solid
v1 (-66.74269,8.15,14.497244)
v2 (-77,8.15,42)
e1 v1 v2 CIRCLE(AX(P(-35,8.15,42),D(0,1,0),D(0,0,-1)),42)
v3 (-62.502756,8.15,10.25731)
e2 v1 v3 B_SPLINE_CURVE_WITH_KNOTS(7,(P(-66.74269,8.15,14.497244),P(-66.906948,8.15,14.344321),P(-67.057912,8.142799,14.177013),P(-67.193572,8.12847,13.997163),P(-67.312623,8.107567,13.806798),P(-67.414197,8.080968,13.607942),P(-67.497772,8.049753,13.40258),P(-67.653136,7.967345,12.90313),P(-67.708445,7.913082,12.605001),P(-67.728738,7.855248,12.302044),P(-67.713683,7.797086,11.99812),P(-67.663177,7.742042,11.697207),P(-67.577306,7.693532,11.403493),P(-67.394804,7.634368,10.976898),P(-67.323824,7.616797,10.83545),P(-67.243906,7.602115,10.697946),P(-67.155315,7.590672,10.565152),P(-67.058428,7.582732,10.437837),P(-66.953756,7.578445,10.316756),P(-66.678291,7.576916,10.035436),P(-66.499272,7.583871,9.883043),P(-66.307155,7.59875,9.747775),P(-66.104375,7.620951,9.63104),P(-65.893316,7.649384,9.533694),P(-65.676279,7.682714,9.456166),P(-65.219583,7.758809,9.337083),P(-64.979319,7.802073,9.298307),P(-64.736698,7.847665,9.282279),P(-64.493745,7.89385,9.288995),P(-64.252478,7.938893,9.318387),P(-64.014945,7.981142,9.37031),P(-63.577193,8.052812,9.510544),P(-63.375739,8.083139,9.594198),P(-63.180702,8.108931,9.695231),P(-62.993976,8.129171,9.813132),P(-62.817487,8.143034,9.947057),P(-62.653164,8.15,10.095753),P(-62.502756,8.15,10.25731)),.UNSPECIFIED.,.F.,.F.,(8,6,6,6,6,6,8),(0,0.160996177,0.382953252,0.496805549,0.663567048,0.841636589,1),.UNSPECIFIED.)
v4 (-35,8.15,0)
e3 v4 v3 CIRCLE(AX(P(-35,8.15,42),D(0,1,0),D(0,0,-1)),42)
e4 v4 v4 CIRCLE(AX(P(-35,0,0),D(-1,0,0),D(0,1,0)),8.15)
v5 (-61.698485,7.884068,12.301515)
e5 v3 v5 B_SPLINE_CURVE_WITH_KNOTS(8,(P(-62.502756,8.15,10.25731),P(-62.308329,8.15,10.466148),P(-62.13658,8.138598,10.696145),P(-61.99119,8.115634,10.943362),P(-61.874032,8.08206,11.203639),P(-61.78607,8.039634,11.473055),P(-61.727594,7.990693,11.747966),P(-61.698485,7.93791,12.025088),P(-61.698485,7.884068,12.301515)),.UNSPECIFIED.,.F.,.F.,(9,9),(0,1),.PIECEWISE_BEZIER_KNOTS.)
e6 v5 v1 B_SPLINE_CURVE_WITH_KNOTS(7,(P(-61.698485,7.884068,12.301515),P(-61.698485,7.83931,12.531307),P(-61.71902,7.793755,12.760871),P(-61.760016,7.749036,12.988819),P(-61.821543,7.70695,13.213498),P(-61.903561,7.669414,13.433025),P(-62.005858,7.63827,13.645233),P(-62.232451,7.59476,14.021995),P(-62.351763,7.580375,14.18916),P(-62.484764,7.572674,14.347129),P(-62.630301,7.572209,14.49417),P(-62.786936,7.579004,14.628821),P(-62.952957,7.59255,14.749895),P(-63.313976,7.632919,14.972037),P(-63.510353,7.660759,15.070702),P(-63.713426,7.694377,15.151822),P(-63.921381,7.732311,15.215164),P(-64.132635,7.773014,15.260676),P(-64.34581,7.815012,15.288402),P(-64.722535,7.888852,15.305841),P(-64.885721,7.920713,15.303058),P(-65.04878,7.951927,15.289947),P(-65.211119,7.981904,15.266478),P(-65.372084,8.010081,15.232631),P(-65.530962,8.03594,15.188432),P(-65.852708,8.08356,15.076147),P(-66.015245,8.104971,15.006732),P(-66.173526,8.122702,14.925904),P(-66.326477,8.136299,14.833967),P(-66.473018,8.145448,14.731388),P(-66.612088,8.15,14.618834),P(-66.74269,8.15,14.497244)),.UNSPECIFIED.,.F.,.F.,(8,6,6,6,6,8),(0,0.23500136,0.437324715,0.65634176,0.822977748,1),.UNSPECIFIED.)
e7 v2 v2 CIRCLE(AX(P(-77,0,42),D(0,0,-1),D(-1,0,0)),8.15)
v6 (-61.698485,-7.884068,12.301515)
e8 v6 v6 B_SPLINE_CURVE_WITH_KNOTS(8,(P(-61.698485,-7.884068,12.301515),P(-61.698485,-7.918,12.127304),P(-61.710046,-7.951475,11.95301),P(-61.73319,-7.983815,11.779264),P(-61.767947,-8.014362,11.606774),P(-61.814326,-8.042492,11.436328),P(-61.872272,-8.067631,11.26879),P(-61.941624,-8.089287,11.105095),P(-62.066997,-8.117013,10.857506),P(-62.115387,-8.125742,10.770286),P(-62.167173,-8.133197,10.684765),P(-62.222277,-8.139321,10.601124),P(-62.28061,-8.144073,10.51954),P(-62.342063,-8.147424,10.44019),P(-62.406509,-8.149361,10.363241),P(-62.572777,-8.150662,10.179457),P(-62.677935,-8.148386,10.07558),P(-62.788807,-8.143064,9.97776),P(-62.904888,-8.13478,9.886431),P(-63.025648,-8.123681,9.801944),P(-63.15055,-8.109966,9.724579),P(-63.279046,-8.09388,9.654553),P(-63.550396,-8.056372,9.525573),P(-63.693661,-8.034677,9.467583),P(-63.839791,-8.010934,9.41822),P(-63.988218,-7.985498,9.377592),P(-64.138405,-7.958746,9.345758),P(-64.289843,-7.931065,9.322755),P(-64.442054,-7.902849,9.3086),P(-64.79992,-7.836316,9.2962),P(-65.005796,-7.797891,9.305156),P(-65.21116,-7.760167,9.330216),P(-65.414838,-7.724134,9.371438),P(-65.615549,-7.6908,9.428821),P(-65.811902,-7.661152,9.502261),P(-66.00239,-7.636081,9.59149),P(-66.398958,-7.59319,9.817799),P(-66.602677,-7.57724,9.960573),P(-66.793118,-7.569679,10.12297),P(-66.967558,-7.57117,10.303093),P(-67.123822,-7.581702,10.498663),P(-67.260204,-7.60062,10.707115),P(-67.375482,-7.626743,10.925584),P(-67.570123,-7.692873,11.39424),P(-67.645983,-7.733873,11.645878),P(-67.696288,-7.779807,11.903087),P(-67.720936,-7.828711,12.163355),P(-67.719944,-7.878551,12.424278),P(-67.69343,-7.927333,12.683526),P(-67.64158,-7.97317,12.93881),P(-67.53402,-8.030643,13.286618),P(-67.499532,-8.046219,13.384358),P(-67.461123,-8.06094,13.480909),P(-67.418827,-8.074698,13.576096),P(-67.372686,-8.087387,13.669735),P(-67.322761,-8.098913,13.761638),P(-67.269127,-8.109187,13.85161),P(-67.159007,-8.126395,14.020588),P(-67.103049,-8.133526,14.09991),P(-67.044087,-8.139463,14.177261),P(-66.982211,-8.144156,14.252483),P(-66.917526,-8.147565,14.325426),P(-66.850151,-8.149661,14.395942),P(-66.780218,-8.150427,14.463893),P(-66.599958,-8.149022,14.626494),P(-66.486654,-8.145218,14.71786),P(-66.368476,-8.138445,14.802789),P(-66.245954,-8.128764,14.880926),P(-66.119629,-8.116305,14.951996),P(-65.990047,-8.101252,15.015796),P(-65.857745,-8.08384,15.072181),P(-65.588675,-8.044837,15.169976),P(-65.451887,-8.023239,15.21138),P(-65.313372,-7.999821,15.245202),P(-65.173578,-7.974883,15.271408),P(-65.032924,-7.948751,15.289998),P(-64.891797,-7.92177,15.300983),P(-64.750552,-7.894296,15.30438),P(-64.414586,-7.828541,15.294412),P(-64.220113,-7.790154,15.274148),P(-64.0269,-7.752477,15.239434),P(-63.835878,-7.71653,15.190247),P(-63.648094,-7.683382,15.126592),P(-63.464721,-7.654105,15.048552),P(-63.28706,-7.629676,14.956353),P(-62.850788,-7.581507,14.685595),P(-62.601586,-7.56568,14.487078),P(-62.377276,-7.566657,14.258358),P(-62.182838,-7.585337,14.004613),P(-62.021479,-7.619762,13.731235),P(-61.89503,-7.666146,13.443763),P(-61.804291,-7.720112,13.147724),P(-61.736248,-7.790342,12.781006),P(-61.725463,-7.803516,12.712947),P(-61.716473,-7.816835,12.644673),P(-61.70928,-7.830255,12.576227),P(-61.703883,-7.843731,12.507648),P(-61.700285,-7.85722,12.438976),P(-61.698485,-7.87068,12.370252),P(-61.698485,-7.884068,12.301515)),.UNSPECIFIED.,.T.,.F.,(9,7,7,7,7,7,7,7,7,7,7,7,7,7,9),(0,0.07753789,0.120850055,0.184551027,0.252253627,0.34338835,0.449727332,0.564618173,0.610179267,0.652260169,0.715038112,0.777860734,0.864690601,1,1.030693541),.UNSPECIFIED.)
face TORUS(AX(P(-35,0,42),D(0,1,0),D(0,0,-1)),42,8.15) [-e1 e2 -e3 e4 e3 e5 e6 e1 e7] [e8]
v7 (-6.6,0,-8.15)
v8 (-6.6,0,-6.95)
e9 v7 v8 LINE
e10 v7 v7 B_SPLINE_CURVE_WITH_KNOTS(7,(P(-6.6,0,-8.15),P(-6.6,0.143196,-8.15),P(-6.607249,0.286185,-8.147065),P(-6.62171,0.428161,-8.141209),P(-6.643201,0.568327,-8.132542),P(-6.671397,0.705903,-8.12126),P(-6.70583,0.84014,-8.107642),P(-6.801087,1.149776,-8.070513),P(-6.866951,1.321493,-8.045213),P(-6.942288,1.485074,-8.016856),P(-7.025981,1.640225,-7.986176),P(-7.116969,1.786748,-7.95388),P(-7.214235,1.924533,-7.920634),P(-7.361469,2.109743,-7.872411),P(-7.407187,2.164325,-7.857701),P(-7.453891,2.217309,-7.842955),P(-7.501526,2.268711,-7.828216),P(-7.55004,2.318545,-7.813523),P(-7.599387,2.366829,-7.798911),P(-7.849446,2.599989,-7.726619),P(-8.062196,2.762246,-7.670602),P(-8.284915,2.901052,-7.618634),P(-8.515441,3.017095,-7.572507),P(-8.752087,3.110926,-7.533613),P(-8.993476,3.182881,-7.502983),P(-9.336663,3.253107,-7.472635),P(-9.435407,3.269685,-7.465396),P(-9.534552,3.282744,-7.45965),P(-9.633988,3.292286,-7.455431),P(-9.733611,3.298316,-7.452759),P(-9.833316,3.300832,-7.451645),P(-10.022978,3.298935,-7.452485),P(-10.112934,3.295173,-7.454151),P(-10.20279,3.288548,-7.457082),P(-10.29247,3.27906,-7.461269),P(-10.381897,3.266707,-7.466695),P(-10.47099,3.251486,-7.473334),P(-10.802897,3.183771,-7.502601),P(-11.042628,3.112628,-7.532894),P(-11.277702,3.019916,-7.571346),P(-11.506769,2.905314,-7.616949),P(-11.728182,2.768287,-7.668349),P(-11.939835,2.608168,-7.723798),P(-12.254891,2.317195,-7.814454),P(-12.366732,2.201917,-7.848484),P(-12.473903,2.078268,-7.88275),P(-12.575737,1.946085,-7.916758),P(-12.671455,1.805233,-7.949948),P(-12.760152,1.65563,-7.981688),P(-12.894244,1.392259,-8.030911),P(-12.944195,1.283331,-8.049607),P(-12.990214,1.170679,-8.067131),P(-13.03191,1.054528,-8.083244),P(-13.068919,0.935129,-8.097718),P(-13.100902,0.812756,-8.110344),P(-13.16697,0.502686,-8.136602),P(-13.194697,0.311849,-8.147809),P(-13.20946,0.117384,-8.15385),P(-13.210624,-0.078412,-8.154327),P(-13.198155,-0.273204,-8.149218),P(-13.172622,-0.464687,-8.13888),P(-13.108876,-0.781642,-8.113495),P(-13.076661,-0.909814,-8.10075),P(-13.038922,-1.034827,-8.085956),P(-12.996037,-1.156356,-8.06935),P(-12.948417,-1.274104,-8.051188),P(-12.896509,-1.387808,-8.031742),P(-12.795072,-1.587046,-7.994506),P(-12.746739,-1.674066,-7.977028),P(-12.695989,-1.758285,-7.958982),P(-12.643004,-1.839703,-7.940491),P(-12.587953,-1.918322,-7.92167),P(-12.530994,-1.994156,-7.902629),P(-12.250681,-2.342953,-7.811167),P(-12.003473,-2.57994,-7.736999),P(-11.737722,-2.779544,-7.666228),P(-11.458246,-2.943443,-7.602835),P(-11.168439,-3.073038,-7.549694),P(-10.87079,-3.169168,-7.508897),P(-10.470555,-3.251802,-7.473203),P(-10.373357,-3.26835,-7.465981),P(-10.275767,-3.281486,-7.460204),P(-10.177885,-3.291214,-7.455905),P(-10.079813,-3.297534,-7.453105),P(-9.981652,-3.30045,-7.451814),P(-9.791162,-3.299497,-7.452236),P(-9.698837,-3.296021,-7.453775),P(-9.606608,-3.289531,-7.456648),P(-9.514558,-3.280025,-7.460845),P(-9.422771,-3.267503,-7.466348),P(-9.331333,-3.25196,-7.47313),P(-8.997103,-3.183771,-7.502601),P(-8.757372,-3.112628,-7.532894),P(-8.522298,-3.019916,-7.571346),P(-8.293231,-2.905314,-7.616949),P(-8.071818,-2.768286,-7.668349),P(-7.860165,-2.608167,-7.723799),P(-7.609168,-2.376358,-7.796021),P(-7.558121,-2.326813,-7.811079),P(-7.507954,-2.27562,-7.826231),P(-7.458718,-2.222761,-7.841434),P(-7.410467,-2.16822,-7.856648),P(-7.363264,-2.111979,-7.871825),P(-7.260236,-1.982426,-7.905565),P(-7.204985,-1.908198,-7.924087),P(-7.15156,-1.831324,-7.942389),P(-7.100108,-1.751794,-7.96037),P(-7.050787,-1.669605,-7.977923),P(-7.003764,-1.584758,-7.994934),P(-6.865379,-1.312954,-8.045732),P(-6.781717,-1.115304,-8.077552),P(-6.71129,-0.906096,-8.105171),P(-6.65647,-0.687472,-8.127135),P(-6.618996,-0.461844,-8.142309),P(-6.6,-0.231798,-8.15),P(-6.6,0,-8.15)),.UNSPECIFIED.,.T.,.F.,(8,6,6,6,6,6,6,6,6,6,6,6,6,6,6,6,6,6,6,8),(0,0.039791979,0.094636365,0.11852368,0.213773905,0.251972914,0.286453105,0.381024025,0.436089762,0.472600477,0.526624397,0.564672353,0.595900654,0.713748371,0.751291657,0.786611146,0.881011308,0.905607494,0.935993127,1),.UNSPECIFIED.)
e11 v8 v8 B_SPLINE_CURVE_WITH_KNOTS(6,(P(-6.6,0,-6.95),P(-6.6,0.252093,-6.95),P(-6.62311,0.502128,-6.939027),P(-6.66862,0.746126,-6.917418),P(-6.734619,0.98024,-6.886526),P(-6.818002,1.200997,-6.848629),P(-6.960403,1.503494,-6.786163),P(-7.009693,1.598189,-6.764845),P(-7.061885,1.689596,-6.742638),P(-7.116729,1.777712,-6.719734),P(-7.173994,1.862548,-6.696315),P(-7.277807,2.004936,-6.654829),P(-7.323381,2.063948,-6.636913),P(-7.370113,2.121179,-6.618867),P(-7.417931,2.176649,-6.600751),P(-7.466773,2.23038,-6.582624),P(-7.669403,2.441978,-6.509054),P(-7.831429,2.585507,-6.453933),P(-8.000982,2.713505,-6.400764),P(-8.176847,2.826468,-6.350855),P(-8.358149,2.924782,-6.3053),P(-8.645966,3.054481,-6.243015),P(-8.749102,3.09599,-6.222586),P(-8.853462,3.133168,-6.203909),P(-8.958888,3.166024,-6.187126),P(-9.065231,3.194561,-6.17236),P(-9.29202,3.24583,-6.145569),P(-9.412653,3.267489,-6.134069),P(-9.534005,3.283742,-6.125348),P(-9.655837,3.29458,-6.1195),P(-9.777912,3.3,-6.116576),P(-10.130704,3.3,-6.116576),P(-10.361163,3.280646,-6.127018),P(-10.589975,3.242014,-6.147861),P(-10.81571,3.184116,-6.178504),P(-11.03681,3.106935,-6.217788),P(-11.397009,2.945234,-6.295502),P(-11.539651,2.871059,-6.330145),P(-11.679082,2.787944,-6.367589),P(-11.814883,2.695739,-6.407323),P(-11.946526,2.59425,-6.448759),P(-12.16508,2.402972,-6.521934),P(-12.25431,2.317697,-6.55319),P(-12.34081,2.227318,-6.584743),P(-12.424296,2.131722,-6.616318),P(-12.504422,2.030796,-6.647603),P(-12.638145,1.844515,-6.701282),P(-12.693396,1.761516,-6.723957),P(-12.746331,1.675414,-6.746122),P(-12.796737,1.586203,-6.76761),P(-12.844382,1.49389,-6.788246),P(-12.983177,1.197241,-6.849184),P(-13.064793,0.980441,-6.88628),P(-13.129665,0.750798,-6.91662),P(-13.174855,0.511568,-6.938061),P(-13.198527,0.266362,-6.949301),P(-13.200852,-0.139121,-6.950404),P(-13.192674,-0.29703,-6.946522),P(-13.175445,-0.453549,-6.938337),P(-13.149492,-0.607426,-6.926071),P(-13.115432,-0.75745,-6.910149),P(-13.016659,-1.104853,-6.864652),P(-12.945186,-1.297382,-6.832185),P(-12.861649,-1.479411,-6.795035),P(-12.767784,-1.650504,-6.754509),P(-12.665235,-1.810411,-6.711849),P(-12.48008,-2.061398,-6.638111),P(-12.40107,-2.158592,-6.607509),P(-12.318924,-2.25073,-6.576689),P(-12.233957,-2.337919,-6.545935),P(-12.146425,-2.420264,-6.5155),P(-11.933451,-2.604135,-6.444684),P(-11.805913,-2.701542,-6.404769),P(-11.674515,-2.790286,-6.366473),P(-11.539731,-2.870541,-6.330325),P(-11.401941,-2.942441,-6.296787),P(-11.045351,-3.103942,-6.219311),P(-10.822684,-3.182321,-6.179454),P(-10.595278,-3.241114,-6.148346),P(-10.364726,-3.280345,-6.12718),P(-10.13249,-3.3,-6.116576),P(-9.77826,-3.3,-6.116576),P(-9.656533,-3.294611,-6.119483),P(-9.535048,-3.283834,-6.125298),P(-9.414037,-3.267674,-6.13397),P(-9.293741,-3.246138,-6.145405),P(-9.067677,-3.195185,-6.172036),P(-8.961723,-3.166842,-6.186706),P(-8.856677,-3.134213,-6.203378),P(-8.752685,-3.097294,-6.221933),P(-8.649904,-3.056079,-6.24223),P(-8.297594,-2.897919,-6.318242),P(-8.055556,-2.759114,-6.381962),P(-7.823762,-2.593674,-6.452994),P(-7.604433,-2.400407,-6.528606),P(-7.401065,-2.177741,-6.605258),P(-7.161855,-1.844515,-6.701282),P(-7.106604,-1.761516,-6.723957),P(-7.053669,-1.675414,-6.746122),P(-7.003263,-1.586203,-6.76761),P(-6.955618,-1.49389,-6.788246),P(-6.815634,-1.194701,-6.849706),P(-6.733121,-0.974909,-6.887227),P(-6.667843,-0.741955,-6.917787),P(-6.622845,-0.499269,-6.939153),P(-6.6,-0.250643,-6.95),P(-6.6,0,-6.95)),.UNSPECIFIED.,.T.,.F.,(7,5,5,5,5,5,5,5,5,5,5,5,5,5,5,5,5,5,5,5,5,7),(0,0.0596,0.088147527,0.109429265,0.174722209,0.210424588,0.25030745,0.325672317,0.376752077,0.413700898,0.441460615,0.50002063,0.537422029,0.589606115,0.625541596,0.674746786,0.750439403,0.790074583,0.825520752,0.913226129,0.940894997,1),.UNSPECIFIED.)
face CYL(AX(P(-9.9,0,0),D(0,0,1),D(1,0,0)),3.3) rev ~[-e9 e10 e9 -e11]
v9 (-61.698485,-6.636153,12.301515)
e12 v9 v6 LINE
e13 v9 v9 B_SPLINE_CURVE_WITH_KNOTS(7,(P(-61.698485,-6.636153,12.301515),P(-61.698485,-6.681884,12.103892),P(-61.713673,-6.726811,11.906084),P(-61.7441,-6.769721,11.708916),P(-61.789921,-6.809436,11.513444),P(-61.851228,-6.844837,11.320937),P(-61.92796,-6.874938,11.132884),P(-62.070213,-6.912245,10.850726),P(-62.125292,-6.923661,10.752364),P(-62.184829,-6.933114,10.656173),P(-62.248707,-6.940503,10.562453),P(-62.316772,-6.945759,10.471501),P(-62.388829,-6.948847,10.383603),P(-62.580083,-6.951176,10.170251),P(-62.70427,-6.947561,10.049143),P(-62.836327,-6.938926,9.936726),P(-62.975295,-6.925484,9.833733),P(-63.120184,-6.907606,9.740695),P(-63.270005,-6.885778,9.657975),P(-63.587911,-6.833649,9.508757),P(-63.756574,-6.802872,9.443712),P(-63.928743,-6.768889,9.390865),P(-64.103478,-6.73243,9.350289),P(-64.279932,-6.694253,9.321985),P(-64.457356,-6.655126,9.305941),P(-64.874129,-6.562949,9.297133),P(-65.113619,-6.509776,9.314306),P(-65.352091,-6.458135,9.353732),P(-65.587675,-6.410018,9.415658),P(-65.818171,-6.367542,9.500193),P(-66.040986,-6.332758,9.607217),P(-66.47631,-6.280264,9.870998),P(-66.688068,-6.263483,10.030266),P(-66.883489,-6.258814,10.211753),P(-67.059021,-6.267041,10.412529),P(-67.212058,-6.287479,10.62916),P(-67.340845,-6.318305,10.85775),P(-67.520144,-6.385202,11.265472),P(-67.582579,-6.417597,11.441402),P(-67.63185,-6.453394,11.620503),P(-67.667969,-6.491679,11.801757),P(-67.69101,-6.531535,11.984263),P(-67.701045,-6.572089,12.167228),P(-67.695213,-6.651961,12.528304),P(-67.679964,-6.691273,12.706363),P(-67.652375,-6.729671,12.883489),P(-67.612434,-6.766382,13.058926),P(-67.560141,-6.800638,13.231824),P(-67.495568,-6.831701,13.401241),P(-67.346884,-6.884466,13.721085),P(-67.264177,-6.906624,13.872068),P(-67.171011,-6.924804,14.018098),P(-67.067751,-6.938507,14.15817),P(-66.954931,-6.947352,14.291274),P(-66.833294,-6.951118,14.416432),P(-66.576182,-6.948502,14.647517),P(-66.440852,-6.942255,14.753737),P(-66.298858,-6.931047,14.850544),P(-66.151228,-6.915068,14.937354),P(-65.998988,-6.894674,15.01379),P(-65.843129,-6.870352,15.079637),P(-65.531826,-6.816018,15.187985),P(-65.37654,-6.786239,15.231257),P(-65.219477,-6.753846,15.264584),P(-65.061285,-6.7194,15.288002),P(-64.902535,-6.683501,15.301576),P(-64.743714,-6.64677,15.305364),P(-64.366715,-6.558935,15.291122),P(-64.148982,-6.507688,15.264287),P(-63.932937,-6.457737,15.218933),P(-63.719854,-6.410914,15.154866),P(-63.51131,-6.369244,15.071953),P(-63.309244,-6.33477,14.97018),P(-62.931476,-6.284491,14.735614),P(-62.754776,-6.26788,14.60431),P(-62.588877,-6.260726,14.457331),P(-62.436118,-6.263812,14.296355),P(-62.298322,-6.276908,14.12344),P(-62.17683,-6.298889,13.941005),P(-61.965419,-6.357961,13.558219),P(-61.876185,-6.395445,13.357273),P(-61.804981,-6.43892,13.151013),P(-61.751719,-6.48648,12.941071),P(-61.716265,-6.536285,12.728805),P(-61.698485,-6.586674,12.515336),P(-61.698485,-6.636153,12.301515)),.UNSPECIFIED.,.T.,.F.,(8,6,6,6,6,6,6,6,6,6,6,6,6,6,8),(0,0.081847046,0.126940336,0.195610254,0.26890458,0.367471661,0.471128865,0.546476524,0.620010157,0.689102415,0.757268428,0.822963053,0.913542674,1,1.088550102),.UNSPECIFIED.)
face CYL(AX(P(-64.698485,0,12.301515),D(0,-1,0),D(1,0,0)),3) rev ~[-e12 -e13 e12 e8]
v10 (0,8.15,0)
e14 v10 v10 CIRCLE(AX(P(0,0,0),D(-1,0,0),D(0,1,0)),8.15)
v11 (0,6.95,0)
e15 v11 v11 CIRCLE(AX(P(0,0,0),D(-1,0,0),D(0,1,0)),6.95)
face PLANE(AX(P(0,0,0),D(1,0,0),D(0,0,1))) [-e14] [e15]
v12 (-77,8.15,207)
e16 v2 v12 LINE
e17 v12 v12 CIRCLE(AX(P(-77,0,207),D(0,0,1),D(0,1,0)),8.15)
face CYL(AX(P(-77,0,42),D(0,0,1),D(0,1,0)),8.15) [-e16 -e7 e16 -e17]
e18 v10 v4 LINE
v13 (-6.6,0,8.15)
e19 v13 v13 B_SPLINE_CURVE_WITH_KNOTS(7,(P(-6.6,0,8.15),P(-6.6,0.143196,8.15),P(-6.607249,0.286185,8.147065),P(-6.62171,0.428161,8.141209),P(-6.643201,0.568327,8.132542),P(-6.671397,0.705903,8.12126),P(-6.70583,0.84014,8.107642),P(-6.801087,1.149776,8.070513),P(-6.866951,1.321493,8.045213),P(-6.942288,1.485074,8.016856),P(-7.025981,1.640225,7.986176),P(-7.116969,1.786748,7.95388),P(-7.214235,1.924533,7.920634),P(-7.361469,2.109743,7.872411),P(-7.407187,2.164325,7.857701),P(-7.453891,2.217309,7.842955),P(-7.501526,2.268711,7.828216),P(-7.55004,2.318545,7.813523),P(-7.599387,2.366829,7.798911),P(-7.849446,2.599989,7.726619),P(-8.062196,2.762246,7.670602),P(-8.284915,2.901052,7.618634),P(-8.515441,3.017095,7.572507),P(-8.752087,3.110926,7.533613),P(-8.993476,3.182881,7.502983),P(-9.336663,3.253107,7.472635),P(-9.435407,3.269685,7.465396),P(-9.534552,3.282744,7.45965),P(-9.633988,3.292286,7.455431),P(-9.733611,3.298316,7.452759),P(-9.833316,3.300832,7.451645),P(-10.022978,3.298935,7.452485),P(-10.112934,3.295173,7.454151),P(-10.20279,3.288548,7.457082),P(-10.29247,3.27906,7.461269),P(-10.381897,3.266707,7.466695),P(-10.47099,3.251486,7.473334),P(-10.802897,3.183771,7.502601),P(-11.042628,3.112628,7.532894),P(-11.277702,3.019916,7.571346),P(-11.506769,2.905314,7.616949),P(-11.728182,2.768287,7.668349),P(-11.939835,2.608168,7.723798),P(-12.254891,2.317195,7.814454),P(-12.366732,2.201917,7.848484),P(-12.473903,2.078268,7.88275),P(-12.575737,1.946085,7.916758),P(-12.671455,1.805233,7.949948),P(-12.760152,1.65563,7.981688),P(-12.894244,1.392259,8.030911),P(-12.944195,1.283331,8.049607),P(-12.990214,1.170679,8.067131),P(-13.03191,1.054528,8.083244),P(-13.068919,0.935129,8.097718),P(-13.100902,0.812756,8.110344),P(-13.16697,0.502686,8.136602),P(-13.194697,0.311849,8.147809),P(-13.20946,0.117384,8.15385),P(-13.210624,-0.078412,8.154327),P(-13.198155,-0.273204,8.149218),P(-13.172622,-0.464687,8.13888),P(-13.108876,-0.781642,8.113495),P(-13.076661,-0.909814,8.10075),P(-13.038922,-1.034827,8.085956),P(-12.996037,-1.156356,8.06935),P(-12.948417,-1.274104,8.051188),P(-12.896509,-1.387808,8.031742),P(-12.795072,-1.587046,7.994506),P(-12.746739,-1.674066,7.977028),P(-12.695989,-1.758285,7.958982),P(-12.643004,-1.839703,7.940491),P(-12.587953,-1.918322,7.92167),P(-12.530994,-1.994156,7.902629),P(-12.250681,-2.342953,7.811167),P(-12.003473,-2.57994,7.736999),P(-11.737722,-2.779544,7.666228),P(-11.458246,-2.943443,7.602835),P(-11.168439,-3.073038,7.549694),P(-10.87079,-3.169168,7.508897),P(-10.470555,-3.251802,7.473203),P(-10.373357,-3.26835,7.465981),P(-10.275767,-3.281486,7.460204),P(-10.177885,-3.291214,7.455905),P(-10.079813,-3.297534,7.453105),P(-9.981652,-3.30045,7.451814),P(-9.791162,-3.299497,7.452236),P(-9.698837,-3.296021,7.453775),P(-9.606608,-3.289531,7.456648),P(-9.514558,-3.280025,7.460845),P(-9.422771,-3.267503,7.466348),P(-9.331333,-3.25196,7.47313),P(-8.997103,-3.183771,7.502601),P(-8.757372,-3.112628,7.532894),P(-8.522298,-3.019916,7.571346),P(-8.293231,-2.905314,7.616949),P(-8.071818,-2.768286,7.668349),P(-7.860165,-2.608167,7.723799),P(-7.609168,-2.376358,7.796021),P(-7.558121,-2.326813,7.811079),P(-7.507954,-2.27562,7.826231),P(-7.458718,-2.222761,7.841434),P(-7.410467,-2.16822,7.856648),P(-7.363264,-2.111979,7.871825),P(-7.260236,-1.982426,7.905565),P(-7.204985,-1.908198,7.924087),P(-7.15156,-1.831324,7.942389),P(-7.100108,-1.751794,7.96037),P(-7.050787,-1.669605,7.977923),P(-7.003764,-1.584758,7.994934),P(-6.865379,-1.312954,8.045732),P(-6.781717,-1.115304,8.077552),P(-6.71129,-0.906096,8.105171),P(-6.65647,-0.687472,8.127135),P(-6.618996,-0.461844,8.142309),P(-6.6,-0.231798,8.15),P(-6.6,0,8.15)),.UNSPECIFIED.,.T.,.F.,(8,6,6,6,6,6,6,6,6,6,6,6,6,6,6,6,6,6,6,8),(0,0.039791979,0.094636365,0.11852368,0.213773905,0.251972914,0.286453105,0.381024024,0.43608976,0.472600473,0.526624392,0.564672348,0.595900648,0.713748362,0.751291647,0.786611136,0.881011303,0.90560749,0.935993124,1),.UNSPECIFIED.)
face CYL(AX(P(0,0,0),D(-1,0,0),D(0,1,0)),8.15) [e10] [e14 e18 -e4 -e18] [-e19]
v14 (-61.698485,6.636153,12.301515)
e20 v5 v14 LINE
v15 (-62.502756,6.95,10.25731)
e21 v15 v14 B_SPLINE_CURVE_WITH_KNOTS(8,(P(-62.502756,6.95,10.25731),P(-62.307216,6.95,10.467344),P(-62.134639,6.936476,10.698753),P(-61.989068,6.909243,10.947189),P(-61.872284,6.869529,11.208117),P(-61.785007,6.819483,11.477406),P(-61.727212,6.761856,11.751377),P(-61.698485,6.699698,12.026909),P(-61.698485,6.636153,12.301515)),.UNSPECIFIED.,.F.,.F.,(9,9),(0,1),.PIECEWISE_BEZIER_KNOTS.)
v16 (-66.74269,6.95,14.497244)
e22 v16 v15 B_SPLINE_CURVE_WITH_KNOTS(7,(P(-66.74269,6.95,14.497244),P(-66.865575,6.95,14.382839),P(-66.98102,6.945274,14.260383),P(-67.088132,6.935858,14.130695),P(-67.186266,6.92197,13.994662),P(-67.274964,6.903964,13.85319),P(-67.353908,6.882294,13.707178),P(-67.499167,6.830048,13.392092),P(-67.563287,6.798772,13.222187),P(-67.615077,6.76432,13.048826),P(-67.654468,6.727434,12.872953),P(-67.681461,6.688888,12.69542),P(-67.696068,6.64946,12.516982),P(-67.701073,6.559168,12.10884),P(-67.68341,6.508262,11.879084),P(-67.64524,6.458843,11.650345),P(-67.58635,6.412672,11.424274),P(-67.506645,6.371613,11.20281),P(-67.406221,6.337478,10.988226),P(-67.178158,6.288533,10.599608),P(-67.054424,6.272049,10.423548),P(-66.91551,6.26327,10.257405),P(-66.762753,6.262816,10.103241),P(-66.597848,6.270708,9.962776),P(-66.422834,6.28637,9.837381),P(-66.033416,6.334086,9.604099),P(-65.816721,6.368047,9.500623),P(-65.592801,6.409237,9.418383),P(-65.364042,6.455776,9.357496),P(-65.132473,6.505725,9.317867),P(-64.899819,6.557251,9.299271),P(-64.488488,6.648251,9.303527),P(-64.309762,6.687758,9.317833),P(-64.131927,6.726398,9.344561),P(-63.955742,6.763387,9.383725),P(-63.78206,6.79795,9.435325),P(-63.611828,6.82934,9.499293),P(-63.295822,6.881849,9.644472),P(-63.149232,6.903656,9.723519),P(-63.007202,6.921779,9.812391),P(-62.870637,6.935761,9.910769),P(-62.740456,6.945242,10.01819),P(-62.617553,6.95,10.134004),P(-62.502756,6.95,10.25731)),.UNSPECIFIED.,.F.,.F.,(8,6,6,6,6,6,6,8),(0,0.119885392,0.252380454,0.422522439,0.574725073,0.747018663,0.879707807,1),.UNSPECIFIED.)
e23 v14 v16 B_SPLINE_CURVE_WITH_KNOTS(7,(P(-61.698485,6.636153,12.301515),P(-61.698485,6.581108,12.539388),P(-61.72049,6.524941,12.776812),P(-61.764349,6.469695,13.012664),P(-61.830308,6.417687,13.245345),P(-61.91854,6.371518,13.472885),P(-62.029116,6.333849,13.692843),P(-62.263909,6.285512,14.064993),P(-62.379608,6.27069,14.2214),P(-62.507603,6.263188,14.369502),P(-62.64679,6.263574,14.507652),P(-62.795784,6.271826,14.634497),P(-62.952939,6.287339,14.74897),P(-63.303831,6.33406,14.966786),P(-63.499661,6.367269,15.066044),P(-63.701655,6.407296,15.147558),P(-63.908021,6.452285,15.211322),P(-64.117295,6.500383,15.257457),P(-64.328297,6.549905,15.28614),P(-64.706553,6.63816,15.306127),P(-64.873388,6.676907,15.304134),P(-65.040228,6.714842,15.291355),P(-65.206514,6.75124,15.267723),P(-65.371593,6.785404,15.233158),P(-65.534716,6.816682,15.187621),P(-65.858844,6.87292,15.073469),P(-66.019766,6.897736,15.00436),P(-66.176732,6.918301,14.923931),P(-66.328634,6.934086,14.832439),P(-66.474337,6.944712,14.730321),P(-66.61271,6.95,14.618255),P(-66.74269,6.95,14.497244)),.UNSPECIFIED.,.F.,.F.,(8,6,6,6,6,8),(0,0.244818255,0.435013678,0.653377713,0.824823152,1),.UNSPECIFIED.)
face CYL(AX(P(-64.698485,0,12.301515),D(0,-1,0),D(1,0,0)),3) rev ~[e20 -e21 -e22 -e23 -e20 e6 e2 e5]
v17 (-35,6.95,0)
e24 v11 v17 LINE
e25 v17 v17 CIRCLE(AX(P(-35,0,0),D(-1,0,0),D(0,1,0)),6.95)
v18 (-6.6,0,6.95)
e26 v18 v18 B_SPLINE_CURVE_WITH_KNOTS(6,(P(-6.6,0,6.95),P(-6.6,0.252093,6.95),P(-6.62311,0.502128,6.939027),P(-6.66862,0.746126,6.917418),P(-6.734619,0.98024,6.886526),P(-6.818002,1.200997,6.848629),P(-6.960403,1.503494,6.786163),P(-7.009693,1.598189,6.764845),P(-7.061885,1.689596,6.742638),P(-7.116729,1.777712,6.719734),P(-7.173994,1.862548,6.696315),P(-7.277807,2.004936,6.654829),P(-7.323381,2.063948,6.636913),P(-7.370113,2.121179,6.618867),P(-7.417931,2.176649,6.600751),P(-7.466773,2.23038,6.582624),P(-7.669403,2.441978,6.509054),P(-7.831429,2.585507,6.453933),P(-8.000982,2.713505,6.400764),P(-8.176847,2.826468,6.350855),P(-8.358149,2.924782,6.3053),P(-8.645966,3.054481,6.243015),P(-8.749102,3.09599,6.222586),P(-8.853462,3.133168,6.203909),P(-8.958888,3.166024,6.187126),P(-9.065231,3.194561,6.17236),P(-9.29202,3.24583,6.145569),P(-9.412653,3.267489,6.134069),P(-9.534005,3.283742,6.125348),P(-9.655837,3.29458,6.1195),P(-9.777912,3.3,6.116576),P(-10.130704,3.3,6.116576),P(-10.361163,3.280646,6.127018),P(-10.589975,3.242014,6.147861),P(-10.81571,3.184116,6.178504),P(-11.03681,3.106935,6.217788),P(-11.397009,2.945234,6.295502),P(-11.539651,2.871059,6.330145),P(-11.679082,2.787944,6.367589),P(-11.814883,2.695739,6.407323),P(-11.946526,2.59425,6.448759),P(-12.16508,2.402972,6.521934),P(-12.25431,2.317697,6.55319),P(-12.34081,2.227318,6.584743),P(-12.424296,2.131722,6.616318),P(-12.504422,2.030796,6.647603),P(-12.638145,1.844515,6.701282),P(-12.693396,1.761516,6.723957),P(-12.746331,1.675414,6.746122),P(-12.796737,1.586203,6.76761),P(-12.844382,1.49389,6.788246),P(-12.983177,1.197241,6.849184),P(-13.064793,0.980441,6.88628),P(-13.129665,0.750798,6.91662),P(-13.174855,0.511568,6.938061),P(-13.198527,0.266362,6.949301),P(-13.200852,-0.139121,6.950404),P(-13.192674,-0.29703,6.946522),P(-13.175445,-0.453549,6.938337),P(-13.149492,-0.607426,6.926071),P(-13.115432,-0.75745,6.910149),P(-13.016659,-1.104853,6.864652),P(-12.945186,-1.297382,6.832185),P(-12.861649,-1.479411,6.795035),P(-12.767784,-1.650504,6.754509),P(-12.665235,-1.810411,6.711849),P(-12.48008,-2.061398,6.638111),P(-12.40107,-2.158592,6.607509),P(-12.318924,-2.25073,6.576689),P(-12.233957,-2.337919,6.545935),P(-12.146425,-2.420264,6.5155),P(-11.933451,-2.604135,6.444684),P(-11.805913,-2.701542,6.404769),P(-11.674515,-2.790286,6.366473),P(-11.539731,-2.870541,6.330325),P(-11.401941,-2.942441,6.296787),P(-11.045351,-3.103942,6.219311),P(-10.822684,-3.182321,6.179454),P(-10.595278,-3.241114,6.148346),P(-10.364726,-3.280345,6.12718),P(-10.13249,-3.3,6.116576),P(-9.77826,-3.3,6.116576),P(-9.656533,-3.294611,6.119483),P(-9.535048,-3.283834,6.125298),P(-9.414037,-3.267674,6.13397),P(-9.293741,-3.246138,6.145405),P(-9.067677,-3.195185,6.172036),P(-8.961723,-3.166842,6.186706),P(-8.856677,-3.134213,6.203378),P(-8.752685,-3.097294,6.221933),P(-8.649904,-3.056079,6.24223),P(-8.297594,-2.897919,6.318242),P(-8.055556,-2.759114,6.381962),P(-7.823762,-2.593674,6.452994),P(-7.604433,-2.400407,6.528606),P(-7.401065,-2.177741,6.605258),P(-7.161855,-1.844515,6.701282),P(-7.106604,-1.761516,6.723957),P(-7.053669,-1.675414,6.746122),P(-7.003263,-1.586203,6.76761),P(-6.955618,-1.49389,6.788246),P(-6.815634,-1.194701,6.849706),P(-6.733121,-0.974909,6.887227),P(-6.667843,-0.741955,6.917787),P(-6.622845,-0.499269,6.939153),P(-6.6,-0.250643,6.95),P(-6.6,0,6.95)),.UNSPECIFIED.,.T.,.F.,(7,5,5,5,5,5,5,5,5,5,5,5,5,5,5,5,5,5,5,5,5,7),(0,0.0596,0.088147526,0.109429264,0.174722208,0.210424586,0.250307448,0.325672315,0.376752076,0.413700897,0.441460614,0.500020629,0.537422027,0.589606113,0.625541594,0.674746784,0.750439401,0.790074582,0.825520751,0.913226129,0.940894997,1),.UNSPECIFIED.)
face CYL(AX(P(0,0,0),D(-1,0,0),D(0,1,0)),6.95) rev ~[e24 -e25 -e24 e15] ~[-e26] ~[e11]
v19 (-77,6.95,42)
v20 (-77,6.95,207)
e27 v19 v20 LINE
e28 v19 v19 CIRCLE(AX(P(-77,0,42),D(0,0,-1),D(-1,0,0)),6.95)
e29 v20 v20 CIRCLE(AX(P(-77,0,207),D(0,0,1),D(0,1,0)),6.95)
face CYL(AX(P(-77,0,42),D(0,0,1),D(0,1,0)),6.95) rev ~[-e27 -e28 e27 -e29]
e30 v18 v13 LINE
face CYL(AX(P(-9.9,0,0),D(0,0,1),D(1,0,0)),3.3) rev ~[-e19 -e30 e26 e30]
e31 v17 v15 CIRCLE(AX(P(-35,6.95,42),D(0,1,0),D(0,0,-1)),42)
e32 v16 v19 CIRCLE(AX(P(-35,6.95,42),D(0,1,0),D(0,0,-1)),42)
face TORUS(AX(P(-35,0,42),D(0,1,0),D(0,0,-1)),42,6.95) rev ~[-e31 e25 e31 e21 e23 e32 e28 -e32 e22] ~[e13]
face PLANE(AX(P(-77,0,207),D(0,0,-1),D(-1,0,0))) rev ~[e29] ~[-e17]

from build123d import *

# Parameters (mm, degrees)
F1_R     = 8.15
F1_R_2   = 6.95
F3_R     = 3
F4_DEPTH = 12.5
F5_R     = 3.3
F6_DEPTH = 12.5


with BuildPart() as f2:
    # F2: sweep along a path in F0
    with BuildLine(Plane.XZ) as f2_path:
        Line((0, 0), (-35, 0))
        ThreePointArc((-35, 0), (-64.6984848098, 12.3015151902), (-77, 42))
        Line((-77, 42), (-77, 207))
    # F1 (on Right) → F2 (sweep)
    with BuildSketch(Plane.YZ):
        Circle(F1_R)
        Circle(F1_R_2, mode=Mode.SUBTRACT)
    sweep(path=f2_path.line)

    # F3 (on Front) → F4 (cut, symmetric)
    with BuildSketch(Plane.XZ):
        with Locations((-64.6984848098, 12.3015151902)):
            Circle(F3_R)
    extrude(amount=F4_DEPTH, both=True, mode=Mode.SUBTRACT)

    # F5 (on Top) → F6 (cut, symmetric)
    with BuildSketch(Plane.XY):
        with Locations((-9.9, 0)):
            Circle(F5_R)
    extrude(amount=F6_DEPTH, both=True, mode=Mode.SUBTRACT)


solid = f2.part
